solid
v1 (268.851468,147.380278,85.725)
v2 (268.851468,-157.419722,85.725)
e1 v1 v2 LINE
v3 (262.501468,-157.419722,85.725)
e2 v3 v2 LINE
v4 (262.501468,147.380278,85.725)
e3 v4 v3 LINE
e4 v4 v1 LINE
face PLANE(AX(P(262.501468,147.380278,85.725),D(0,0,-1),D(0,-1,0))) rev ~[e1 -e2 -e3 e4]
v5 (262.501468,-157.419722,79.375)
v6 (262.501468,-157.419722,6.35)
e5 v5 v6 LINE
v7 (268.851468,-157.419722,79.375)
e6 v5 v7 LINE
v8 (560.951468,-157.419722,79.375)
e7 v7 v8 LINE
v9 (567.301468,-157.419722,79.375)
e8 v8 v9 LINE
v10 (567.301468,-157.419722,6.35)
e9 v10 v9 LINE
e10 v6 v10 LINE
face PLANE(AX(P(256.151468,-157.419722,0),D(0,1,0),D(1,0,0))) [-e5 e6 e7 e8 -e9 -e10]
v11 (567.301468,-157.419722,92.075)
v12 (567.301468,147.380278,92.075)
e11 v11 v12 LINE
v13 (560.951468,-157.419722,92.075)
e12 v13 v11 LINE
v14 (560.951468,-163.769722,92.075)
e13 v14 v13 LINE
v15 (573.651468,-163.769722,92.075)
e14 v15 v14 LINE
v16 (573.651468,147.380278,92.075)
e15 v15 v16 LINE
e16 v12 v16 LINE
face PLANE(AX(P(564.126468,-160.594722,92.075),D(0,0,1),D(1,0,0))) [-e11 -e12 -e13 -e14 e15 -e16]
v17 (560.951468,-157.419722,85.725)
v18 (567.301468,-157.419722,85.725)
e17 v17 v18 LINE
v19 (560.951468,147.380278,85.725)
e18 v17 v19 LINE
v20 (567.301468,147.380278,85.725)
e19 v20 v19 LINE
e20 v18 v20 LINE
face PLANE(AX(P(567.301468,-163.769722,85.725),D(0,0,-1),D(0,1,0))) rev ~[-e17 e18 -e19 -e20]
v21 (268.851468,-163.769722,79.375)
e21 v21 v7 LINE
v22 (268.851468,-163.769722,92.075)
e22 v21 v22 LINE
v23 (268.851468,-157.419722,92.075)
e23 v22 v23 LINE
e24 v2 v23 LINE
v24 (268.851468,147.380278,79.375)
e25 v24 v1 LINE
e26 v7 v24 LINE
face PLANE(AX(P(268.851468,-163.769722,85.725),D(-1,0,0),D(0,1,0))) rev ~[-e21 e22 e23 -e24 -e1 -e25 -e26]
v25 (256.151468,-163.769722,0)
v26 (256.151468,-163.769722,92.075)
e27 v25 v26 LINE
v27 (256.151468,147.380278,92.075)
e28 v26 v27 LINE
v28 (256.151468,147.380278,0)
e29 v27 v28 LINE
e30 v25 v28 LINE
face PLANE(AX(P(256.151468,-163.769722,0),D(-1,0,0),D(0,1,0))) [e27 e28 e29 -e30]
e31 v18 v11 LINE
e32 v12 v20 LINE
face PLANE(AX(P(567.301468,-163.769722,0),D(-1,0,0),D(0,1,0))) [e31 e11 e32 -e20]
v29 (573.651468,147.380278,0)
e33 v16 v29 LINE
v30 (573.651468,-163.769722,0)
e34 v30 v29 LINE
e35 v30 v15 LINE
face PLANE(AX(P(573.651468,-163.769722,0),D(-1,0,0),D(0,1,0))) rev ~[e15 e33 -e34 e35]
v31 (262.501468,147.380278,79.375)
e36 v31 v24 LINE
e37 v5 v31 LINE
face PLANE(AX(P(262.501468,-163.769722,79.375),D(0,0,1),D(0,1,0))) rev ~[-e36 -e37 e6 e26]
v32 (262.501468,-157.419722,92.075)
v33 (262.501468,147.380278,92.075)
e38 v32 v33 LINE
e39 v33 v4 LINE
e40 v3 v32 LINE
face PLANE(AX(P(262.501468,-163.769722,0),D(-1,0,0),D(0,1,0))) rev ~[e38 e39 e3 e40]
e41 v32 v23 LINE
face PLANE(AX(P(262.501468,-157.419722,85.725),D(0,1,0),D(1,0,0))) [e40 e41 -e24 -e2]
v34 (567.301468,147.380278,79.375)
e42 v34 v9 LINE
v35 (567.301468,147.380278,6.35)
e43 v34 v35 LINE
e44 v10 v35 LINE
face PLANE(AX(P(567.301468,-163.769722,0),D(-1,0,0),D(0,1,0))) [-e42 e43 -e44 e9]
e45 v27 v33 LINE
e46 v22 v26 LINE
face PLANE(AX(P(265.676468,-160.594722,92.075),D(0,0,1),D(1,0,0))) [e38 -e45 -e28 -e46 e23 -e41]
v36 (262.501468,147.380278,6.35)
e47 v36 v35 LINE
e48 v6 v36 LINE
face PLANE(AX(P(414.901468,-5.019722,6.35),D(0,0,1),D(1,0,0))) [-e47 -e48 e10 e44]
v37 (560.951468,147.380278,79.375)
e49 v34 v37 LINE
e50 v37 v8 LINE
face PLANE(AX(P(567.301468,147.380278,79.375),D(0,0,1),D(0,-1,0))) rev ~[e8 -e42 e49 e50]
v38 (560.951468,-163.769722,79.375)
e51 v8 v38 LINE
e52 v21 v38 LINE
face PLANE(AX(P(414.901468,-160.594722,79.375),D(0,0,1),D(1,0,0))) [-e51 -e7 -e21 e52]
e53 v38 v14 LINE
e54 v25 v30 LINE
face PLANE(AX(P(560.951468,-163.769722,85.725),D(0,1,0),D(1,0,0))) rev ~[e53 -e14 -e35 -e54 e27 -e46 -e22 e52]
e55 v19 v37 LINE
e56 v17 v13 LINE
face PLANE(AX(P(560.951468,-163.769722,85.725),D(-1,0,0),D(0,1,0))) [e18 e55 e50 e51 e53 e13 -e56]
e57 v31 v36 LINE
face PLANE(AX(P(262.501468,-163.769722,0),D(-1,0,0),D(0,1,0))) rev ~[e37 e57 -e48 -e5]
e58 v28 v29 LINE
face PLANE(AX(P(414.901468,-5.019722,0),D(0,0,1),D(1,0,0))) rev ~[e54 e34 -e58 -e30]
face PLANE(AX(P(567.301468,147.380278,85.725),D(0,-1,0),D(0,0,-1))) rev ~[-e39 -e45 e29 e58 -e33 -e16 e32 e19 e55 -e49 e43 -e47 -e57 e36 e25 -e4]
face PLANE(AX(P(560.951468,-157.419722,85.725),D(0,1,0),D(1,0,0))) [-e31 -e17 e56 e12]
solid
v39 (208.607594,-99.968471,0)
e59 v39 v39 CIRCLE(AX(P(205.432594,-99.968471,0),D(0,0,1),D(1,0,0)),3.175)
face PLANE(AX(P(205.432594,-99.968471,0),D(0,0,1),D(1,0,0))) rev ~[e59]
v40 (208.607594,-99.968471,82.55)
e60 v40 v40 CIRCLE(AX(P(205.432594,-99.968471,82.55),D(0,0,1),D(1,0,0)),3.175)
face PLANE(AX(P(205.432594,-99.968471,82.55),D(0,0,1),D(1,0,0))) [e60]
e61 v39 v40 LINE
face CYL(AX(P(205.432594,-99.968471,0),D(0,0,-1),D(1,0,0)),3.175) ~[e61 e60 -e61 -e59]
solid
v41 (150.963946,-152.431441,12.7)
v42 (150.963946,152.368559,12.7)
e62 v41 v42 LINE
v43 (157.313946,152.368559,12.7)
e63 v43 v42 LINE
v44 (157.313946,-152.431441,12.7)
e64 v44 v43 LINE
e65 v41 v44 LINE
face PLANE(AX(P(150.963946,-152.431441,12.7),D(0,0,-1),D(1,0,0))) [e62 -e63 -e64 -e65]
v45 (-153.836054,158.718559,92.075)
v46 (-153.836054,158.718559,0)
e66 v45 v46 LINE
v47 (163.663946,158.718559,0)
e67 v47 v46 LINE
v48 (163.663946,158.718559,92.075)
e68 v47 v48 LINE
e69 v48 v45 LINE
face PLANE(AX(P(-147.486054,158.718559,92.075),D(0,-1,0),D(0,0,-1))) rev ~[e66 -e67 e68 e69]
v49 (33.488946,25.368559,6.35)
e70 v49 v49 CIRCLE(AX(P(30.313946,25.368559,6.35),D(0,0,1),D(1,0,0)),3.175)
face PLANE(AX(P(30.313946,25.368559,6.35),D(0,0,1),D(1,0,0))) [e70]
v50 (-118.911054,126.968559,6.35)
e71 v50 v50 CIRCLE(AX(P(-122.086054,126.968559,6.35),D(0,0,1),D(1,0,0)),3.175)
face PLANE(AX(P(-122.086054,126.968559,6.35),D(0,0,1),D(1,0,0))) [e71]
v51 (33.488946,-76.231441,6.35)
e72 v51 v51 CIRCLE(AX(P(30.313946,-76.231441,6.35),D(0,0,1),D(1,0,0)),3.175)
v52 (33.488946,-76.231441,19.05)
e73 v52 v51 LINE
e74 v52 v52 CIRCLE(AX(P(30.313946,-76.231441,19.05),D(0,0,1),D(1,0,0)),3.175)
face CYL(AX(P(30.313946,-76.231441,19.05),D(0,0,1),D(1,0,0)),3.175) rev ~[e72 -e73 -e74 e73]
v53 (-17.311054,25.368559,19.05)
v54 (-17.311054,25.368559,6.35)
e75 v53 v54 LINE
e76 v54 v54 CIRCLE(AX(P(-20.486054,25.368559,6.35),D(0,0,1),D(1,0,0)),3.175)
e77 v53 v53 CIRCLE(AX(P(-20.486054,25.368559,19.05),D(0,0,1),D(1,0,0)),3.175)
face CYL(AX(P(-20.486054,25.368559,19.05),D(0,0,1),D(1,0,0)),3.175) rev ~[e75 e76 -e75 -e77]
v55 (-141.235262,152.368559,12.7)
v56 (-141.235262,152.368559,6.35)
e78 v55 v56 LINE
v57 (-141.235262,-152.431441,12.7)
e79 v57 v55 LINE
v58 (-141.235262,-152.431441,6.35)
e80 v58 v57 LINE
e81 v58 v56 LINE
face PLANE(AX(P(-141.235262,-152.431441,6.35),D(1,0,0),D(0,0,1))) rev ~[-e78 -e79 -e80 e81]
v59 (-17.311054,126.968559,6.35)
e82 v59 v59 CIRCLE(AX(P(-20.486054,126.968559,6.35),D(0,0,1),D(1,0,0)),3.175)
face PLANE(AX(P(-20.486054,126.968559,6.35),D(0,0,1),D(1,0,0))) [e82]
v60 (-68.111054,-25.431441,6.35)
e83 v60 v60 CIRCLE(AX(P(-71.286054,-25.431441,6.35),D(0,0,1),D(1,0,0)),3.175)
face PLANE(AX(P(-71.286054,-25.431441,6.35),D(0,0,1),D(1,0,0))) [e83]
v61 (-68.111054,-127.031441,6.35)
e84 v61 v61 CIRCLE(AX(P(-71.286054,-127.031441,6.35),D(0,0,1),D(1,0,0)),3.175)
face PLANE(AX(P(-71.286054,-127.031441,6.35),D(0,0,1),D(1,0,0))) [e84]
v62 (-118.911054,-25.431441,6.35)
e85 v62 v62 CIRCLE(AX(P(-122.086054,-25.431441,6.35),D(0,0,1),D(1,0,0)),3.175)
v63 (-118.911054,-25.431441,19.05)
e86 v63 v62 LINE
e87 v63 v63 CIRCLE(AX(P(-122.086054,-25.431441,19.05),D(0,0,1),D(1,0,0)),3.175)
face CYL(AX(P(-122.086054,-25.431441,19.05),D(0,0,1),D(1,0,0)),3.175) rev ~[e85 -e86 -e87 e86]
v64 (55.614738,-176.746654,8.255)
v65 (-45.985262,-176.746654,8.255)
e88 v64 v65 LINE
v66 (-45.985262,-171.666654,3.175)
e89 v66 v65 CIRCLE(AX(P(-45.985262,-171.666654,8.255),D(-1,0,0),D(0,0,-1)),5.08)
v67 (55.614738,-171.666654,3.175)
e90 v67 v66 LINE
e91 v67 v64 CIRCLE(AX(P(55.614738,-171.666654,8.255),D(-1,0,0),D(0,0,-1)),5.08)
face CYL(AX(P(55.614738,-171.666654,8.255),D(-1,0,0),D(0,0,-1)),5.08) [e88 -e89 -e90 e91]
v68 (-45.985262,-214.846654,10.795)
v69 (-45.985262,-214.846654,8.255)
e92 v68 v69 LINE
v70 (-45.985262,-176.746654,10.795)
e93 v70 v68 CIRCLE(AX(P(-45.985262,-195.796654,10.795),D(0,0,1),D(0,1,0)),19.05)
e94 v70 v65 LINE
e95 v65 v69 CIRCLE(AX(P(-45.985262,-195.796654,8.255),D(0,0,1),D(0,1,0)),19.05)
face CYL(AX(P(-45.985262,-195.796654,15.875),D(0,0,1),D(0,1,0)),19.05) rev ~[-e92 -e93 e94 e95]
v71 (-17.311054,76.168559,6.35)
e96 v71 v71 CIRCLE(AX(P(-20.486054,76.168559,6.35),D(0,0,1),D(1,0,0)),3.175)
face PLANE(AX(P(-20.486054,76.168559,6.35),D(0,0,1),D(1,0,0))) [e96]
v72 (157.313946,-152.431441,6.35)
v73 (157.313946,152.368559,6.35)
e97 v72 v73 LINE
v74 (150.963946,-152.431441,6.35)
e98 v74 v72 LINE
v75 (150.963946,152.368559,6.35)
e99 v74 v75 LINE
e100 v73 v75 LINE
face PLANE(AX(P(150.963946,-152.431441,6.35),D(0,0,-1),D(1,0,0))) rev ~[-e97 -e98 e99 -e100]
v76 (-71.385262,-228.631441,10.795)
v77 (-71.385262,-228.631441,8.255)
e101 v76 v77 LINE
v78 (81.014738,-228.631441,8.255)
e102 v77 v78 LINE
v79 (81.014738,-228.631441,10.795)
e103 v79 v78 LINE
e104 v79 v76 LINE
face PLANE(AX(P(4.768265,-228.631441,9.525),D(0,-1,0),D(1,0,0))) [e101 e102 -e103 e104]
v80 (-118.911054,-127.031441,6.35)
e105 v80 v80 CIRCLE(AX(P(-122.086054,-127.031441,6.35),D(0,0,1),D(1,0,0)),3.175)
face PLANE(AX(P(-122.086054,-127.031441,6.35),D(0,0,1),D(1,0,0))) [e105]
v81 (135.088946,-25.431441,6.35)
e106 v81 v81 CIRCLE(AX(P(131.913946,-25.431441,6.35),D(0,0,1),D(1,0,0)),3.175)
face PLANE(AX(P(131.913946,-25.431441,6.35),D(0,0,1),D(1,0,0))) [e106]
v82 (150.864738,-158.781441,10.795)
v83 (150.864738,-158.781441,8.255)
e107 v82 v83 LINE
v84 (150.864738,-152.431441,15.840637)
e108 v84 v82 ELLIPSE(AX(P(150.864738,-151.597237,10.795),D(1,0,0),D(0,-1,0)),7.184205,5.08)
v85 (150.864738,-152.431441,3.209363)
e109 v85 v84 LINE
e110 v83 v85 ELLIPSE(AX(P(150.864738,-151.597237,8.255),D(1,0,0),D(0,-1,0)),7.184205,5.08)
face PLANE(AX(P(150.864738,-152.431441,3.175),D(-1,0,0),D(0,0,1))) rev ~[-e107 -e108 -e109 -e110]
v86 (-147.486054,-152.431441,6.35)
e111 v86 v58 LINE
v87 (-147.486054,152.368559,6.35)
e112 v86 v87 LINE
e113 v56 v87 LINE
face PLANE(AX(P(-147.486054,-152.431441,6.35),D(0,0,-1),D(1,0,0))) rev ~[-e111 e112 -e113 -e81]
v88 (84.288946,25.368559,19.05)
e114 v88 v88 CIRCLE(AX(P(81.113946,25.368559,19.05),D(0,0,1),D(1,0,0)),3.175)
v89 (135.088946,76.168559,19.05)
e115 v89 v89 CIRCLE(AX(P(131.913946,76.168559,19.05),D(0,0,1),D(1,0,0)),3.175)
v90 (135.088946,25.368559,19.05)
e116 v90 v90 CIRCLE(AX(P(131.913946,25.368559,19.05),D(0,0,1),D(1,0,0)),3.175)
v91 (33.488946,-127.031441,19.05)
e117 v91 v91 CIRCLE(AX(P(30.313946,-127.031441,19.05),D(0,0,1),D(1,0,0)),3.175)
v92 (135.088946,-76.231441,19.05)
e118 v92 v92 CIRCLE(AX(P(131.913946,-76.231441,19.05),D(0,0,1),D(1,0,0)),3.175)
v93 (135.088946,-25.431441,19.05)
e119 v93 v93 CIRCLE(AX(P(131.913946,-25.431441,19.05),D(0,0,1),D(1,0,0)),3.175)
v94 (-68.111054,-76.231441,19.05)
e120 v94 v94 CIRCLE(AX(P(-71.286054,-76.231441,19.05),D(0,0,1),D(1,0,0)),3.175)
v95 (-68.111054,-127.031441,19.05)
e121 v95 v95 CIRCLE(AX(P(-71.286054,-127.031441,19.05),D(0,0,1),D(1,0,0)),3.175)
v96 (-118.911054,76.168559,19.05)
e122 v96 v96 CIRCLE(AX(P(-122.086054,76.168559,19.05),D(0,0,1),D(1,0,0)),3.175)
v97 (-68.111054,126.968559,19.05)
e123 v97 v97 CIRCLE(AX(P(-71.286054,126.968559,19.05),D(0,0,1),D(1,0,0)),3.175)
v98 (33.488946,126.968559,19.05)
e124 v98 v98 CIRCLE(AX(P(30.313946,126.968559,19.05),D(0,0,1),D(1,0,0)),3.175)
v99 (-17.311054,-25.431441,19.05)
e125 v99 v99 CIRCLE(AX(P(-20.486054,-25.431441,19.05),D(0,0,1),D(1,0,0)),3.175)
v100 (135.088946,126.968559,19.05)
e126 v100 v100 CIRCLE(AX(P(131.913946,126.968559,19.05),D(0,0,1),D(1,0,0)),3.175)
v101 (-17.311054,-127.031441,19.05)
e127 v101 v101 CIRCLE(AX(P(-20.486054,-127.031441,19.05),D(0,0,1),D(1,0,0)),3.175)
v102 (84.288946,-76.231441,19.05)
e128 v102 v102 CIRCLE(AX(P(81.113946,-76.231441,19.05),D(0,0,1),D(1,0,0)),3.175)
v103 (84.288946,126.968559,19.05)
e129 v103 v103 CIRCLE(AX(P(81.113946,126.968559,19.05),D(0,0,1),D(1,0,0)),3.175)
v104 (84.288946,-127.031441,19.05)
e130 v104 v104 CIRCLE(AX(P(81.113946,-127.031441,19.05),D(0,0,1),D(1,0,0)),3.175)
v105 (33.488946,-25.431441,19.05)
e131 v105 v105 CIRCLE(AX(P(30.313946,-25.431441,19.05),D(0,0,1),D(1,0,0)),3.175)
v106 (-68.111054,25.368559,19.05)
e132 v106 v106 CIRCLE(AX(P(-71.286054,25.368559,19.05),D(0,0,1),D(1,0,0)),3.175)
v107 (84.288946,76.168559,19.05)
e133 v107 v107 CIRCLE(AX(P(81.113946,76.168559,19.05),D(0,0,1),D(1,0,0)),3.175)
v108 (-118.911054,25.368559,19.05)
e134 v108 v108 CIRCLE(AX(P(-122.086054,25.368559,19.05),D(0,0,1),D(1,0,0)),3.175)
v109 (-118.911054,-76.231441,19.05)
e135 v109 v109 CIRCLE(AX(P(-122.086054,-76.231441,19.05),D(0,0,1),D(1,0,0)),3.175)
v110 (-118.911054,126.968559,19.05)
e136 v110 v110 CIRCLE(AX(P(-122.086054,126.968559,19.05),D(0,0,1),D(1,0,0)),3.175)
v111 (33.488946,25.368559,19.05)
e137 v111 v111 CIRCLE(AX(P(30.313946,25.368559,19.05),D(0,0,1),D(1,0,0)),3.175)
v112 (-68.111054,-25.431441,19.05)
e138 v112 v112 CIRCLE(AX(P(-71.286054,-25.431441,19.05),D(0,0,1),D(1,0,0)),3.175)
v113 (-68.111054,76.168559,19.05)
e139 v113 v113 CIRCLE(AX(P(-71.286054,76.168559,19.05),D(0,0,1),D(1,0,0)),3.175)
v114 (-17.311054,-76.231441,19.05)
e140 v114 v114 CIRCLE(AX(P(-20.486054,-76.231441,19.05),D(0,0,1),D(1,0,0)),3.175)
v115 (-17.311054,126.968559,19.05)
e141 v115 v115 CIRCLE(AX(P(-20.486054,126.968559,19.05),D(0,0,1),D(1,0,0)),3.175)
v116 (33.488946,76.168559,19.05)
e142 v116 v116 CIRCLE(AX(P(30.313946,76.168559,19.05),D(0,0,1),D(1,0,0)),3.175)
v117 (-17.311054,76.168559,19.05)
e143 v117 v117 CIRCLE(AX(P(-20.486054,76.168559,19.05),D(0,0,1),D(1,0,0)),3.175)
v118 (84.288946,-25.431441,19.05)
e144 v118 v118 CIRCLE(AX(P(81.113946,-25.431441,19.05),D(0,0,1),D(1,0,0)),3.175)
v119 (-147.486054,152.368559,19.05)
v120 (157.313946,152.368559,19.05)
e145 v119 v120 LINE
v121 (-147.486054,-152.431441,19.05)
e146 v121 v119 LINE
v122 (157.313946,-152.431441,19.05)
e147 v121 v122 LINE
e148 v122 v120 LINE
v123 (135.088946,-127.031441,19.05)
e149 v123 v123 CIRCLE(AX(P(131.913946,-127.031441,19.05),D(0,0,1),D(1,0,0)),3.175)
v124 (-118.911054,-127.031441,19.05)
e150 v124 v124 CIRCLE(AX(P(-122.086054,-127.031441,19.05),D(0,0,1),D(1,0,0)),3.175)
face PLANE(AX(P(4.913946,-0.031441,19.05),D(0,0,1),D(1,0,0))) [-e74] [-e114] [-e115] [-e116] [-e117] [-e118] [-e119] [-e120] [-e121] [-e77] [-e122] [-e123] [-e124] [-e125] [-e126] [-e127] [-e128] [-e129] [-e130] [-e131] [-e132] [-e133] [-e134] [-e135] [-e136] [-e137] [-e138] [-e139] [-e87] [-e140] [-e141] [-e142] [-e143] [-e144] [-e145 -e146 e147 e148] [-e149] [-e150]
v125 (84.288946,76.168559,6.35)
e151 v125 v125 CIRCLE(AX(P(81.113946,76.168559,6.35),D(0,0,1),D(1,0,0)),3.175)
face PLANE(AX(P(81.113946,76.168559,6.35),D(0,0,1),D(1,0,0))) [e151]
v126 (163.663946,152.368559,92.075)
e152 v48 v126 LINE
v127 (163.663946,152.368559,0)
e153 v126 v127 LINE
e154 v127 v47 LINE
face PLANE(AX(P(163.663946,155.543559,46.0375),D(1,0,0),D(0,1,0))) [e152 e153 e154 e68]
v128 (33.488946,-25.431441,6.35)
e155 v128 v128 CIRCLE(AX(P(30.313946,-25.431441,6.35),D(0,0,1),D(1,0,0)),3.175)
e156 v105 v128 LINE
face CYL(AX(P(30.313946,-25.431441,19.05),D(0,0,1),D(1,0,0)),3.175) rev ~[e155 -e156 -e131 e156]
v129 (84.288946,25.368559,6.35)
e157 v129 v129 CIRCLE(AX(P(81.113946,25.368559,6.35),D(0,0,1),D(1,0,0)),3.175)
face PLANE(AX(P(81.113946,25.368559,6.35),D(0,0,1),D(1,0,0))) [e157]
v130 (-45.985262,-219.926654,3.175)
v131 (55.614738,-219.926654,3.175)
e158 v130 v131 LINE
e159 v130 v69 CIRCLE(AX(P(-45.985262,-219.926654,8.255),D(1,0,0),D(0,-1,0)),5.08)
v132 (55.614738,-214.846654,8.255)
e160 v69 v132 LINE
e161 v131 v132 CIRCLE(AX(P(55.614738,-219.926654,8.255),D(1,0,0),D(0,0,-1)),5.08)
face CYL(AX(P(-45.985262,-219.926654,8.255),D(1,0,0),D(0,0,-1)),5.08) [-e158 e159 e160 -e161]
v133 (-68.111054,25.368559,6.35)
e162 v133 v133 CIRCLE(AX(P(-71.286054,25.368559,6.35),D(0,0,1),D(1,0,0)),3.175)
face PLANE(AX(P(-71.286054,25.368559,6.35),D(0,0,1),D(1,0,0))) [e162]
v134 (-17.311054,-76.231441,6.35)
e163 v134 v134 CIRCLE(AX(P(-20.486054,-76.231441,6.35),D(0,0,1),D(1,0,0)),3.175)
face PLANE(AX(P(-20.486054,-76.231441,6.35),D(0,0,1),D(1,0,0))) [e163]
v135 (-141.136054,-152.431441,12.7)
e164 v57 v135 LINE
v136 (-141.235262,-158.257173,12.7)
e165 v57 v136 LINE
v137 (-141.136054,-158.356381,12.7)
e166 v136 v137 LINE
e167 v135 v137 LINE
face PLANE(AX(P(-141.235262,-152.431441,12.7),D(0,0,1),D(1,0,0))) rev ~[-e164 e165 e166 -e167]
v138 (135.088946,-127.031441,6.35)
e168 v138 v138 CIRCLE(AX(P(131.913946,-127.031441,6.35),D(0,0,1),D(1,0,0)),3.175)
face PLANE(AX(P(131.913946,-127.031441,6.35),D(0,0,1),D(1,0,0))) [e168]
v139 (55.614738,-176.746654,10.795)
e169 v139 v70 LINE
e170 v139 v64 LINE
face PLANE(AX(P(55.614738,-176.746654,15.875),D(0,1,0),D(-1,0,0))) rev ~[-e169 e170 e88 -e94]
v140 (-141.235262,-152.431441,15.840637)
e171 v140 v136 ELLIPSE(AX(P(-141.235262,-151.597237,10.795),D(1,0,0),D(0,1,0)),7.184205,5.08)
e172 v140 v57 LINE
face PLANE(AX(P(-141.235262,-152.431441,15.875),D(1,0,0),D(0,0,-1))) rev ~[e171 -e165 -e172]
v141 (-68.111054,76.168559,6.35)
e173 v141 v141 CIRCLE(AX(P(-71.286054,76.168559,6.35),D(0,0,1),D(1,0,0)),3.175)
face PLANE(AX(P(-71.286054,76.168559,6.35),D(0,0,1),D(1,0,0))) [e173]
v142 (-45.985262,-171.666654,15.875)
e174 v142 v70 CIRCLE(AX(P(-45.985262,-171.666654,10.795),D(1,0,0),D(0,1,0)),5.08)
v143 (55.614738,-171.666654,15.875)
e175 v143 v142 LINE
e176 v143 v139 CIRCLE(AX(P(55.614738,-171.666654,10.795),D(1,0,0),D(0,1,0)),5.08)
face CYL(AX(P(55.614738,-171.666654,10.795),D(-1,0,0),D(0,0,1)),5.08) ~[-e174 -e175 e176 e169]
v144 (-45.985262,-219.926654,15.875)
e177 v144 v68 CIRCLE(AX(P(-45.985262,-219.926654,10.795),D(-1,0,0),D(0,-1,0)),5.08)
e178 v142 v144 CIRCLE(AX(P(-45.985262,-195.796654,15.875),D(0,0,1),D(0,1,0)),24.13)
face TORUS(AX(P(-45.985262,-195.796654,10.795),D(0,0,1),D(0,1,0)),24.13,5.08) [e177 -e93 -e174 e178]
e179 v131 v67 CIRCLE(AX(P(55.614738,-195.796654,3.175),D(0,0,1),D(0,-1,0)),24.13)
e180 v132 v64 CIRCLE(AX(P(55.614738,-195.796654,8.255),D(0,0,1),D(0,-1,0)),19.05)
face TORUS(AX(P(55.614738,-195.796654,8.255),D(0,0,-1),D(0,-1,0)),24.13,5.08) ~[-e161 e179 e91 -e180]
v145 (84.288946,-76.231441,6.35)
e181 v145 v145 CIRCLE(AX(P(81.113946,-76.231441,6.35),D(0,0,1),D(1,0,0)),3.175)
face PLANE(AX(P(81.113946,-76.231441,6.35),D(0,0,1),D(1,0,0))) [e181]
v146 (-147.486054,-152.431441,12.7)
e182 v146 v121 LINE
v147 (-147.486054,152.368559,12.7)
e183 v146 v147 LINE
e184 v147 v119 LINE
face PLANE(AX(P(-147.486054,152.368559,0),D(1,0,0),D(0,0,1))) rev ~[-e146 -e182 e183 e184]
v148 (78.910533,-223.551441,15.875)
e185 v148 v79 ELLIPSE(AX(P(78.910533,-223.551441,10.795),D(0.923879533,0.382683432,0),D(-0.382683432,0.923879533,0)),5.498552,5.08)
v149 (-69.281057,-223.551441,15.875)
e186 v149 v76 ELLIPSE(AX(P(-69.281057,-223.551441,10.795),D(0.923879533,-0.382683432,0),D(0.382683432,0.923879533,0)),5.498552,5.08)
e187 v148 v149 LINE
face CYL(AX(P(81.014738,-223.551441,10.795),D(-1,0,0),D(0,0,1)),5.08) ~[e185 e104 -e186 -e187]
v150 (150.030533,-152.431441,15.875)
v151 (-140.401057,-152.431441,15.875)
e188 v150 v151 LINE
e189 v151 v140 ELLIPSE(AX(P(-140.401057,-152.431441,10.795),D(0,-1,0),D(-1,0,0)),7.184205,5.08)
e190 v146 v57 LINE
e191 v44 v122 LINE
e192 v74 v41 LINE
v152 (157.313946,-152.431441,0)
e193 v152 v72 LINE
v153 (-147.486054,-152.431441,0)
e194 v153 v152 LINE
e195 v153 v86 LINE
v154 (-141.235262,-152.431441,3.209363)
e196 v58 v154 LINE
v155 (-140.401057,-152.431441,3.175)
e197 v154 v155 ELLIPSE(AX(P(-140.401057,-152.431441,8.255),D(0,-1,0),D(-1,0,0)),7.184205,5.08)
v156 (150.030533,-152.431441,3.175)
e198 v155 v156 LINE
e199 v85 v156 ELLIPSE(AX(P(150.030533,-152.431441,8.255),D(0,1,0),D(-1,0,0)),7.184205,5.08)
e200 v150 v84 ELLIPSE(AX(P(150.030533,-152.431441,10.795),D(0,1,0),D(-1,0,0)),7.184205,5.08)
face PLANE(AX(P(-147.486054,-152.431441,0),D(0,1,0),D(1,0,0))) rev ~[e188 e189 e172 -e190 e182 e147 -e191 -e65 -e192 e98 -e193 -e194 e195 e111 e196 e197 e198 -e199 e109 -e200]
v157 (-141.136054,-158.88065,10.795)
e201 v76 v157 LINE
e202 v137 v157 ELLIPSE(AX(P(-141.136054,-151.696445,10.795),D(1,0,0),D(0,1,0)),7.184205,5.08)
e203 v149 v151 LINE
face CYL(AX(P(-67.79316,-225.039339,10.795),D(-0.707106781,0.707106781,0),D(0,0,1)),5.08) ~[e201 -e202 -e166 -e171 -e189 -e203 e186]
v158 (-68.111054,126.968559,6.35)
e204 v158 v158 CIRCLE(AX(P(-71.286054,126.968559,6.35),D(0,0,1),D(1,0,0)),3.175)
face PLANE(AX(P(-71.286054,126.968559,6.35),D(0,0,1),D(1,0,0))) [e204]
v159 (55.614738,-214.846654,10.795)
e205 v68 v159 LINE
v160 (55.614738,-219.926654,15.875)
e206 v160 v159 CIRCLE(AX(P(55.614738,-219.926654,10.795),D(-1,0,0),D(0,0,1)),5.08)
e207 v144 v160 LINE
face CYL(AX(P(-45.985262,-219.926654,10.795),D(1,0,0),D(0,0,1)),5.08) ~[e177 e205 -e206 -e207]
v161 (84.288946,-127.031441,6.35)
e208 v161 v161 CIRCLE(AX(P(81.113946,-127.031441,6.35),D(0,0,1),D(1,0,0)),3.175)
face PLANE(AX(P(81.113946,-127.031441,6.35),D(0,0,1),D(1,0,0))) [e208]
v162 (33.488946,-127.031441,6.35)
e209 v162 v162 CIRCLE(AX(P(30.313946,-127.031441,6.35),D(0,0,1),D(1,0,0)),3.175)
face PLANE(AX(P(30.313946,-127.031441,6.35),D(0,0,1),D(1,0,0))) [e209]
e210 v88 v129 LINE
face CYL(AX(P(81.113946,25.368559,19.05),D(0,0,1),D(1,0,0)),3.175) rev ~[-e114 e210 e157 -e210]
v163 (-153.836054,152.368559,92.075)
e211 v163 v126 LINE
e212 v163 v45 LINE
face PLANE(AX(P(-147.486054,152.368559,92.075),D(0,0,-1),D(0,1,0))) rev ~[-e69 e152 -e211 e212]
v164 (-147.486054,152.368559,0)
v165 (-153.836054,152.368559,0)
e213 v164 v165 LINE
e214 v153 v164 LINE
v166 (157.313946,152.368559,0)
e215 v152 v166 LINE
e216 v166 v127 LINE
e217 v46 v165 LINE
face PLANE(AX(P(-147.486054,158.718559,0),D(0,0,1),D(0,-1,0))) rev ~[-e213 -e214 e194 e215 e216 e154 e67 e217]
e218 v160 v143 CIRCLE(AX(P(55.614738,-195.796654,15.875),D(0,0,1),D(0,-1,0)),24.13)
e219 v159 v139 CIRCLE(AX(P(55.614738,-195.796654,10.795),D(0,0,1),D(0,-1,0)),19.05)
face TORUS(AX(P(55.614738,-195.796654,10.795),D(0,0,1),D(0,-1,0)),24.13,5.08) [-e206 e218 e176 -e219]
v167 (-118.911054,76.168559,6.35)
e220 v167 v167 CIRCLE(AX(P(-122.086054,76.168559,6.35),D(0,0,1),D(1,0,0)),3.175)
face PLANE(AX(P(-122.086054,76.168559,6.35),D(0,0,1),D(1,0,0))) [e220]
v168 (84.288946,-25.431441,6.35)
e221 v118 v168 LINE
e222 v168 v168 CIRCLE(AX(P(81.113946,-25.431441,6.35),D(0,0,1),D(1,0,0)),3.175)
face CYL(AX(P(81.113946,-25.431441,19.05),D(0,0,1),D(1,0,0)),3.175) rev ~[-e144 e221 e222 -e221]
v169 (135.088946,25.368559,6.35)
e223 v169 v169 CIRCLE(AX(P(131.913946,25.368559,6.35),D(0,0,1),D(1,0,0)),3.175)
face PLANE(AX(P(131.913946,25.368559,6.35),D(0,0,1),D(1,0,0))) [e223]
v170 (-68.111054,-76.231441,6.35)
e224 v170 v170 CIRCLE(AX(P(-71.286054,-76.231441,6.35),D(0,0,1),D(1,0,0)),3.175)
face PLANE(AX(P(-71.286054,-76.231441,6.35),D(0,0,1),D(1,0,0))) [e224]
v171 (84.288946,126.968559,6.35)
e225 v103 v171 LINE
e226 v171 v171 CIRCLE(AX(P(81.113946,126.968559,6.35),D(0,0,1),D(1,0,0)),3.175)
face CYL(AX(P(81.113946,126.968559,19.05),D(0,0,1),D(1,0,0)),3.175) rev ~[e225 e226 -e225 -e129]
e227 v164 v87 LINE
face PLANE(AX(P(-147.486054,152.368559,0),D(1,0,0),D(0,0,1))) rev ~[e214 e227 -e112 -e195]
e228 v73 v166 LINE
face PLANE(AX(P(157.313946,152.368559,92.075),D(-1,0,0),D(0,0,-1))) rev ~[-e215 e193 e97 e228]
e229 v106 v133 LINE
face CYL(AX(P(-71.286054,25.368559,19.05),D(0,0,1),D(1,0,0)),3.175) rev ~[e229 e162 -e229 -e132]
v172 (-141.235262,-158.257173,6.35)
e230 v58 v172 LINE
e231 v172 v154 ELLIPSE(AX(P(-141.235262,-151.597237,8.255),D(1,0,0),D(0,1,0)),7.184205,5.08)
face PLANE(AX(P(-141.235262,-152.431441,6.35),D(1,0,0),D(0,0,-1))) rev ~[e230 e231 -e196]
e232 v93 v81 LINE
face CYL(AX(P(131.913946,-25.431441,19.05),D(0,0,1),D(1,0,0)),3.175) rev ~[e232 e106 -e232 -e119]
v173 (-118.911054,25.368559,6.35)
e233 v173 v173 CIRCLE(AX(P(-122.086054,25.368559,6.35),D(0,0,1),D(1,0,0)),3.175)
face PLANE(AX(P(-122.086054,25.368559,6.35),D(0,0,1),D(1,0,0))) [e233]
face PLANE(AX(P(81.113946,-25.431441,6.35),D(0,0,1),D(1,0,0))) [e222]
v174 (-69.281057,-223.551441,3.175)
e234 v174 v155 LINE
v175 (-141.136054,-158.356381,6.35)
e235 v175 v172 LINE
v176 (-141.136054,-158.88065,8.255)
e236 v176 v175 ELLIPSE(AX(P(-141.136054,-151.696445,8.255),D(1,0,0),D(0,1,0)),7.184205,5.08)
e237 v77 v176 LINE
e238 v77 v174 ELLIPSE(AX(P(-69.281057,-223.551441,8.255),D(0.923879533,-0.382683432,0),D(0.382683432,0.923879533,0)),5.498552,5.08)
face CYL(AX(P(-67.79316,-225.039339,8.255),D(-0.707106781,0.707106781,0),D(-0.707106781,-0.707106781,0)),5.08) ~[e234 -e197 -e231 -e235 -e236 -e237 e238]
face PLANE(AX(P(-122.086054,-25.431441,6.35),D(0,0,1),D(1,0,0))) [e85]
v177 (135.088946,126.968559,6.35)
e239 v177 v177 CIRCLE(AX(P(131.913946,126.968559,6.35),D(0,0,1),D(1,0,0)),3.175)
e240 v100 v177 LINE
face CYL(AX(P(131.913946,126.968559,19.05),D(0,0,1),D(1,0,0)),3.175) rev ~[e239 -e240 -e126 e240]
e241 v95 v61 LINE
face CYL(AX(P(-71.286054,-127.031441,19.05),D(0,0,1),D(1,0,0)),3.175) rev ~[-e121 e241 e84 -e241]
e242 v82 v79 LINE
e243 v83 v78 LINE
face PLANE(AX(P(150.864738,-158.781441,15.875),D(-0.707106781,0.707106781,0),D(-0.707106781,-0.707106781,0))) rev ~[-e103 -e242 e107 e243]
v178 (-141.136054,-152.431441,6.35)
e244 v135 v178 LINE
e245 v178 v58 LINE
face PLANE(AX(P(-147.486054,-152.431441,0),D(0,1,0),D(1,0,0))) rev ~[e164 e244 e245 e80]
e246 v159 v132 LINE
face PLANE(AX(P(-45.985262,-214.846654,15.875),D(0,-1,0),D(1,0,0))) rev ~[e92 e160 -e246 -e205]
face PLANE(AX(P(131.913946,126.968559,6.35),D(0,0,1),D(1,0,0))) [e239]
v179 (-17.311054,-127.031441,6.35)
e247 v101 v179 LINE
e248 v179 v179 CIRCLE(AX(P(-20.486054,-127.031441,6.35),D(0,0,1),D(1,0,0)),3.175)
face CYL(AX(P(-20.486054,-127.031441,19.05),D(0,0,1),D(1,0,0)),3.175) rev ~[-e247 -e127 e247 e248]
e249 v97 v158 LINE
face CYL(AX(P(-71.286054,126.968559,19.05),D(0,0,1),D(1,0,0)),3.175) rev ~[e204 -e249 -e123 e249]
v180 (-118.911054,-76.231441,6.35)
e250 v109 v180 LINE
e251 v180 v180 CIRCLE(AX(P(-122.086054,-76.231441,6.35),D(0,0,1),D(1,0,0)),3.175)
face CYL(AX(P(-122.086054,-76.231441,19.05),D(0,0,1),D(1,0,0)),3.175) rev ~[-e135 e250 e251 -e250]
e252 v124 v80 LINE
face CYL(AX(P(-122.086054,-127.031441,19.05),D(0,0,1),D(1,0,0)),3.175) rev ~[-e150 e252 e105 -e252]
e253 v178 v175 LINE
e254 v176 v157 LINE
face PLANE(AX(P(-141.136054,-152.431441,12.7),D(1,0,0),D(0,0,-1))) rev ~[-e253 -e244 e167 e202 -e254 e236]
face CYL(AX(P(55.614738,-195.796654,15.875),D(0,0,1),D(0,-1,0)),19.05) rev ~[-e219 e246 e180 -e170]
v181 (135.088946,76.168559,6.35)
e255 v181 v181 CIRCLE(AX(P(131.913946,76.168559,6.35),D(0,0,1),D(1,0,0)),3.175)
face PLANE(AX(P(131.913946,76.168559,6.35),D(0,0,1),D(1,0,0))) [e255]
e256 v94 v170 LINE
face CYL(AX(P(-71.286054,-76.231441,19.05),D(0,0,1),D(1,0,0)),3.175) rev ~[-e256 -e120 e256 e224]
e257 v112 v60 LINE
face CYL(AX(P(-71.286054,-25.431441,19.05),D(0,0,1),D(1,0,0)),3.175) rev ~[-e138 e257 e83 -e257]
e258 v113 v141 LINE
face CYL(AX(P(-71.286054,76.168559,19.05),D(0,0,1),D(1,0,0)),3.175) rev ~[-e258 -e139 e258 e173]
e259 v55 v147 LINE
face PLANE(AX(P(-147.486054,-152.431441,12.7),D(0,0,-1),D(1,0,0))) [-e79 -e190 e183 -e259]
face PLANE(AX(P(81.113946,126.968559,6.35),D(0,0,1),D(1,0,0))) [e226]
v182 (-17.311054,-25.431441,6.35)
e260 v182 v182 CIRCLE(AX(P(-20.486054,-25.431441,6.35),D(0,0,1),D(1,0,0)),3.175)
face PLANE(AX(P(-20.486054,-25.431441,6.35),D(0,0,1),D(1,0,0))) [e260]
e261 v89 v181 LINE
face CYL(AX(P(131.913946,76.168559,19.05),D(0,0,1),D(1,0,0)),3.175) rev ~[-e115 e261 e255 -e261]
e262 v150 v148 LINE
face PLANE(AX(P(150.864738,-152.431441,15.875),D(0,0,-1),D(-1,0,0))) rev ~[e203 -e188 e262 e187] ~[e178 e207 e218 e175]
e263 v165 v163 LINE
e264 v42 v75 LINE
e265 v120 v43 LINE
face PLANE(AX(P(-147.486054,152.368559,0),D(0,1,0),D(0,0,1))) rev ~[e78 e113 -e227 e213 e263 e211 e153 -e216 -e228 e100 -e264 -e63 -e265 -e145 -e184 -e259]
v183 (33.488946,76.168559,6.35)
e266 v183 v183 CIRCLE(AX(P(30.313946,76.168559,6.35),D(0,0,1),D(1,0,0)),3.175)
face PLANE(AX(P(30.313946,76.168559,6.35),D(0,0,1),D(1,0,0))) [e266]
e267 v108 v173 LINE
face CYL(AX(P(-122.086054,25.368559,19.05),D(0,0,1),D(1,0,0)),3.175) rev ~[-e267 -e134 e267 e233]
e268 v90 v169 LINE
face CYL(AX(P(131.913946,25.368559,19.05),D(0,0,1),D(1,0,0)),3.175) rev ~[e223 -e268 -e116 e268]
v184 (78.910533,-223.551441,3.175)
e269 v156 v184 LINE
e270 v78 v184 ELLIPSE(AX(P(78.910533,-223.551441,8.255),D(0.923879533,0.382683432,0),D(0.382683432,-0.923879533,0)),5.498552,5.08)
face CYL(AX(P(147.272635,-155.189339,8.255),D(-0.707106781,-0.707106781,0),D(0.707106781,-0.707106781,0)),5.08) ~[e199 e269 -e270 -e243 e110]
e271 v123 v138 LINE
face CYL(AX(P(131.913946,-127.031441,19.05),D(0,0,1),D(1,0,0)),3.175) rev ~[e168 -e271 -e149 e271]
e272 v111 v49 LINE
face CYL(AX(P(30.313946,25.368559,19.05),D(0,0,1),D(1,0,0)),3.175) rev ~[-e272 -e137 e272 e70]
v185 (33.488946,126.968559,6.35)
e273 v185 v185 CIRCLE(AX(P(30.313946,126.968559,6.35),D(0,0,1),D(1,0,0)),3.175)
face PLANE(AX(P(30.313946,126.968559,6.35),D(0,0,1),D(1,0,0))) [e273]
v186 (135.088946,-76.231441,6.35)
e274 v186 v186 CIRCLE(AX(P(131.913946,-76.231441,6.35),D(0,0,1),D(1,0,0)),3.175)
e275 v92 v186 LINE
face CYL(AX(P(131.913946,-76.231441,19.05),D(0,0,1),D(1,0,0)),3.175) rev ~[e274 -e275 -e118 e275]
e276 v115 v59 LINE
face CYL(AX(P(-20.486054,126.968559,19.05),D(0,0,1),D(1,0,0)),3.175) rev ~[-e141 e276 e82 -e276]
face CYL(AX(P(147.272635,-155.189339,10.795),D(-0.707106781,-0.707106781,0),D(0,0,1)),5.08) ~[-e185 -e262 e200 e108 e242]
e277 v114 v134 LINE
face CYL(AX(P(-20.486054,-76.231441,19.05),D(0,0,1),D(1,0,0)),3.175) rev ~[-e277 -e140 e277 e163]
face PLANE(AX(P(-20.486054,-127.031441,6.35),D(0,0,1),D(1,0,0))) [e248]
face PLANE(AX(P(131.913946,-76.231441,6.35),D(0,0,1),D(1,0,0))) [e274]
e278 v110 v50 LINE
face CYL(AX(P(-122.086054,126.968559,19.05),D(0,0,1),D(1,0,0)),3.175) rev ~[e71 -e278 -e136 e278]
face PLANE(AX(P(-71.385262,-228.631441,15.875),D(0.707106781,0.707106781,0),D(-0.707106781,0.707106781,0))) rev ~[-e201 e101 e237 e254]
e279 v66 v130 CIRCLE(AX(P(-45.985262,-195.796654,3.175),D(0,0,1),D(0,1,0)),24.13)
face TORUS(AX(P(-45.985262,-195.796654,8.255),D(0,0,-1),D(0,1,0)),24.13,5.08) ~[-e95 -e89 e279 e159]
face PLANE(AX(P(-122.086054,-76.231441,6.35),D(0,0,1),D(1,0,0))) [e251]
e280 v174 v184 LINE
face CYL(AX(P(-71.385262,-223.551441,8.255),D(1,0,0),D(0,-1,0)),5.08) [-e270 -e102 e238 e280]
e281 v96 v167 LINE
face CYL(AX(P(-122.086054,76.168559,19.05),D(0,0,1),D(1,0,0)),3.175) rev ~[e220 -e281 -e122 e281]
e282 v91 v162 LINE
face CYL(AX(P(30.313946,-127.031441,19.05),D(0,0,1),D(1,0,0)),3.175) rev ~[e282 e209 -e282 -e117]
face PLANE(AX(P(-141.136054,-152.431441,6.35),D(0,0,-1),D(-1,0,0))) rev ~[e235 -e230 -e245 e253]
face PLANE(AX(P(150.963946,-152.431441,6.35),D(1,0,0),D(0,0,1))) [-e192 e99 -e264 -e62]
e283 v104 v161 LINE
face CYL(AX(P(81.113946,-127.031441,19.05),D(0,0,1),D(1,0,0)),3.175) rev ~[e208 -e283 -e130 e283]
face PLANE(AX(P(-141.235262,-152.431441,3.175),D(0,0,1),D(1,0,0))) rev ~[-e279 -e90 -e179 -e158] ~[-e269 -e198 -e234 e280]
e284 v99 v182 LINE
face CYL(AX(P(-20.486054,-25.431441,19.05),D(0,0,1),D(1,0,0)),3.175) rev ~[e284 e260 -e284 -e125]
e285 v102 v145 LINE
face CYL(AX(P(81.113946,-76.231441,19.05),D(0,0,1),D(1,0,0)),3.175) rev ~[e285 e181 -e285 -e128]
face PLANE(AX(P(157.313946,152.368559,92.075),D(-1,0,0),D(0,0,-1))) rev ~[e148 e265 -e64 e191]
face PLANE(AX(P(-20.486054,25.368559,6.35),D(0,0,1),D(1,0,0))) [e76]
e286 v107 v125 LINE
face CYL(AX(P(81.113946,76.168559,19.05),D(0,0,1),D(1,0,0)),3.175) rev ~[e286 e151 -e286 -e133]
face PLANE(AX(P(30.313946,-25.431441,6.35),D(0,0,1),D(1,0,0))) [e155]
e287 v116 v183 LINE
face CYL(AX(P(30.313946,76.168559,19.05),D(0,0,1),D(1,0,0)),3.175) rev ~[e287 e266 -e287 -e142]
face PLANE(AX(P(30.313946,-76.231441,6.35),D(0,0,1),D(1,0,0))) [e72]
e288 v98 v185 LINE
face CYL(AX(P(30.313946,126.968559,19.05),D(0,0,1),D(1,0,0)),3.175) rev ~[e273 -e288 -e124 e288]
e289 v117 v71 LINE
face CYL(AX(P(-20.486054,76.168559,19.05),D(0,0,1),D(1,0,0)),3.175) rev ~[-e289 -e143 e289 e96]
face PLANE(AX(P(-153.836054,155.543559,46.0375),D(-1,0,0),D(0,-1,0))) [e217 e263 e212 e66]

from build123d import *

# Parameters (mm, degrees)
F0_W      = 304.8
F0_H      = 304.8
F1_DEPTH  = 19.05
F2_W      = 6.35
F2_H      = 6.35
F2_W_2    = 6.250791869
F3_DEPTH  = 304.801
F4_DEPTH  = 76.2
F6_DEPTH  = 25.4
F7_R      = 5.08
F8_R      = 5.08
F9_R      = 3.175
F10_DEPTH = 12.7
F11_R     = 3.175
F12_DEPTH = 82.55
F13_W     = 304.8
F13_H     = 73.025
F13_W_2   = 6.35
F13_H_2   = 6.35
F13_W_3   = 6.250791869
F14_DEPTH = 6.35
F16_DEPTH = 6.35
F18_DEPTH = 6.35
F19_W     = 317.5
F19_H     = 317.5
F20_DEPTH = 92.075
F21_T     = -6.35
F23_DEPTH = 92.076
F22_W     = 304.8
F22_H     = 6.35
F24_DEPTH = 12.7
F26_DEPTH = 6.35
F28_DEPTH = 6.35
F29_W     = 6.35
F29_H     = 6.35
F30_DEPTH = 6.35
F31_W     = 6.35
F31_H     = 6.35
F32_DEPTH = 6.35


with BuildPart() as f1:
    # F0 (on Top) → F1 (new body)
    with BuildSketch(Plane.XY):
        with Locations((4.9139459755, -0.0314414501)):
            Rectangle(F0_W, F0_H)
    extrude(amount=F1_DEPTH)

    # F2 (on face) → F3 (cut, through all)
    with BuildSketch(Plane.XZ.offset(152.4314414501)):
        with Locations((154.1389459755, 9.525)):
            Rectangle(F2_W, F2_H)
        with Locations((-144.36065809, 9.525)):
            Rectangle(F2_W_2, F2_H)
    extrude(amount=-F3_DEPTH, mode=Mode.SUBTRACT)

    # F2 (on face) → F4 (join)
    with BuildSketch(Plane.XZ.offset(152.4314414501)):
        Polygon((-141.2352621555, 15.875), (-141.2352621555, 12.7), (-141.1360540245, 12.7), (-141.1360540245, 6.35), (-141.2352621555, 6.35), (-141.2352621555, 3.175), (150.8647378445, 3.175), (150.8647378445, 15.875), align=None)
    extrude(amount=F4_DEPTH)

    # F5 (on face) → F6 (cut)
    with BuildSketch(Plane.XY.offset(15.875)):
        with BuildLine():
            ThreePointArc((-45.9852621555, -176.7466536283), (-65.0352621555, -195.7966536283), (-45.9852621555, -214.8466536283))
            Line((-45.9852621555, -214.8466536283), (55.6147378445, -214.8466536283))
            ThreePointArc((55.6147378445, -214.8466536283), (74.6647378445, -195.7966536283), (55.6147378445, -176.7466536283))
            Line((55.6147378445, -176.7466536283), (-45.9852621555, -176.7466536283))
        make_face()
        Polygon((150.8647378445, -158.7814414501), (81.0147378445, -228.6314414501), (150.8647378445, -228.6314414501), align=None)
        Polygon((-71.3852621555, -228.6314414501), (-141.2352621555, -158.7814414501), (-141.2352621555, -228.6314414501), align=None)
    extrude(amount=-F6_DEPTH, mode=Mode.SUBTRACT)

    # F7
    f7_edges = [f1.edges().sort_by_distance(p)[0] for p in [
        (-65.035262, -195.796654, 15.875),
        (4.814738, -176.746654, 15.875),
        (4.814738, -176.746654, 3.175),
        (-65.035262, -195.796654, 3.175),
        (74.664738, -195.796654, 3.175),
    ]]
    fillet(f7_edges, radius=F7_R)

    # F8
    f8_edges = [f1.edges().sort_by_distance(p)[0] for p in [
        (-106.310262, -193.706441, 15.875),
        (-106.310262, -193.706441, 3.175),
        (4.814738, -228.631441, 15.875),
        (4.814738, -228.631441, 3.175),
        (115.939738, -193.706441, 3.175),
        (115.939738, -193.706441, 15.875),
    ]]
    fillet(f8_edges, radius=F8_R)

    # F9 (on face) → F10 (cut)
    with BuildSketch(Plane.XY.offset(19.05)):
        with Locations((131.9139459755, 76.1685585499)):
            Circle(F9_R)
        with Locations((30.3139459755, -127.0314414501)):
            Circle(F9_R)
        with Locations((131.9139459755, -76.2314414501)):
            Circle(F9_R)
        with Locations((81.1139459755, -76.2314414501)):
            Circle(F9_R)
        with Locations((131.9139459755, 126.9685585499)):
            Circle(F9_R)
        with Locations((30.3139459755, -76.2314414501)):
            Circle(F9_R)
        with Locations((-20.4860540245, 25.3685585499)):
            Circle(F9_R)
        with Locations((-20.4860540245, -76.2314414501)):
            Circle(F9_R)
        with Locations((-20.4860540245, -25.4314414501)):
            Circle(F9_R)
        with Locations((-122.0860540245, -127.0314414501)):
            Circle(F9_R)
        with Locations((-122.0860540245, -76.2314414501)):
            Circle(F9_R)
        with Locations((-122.0860540245, -25.4314414501)):
            Circle(F9_R)
        with Locations((-122.0860540245, 25.3685585499)):
            Circle(F9_R)
        with Locations((-122.0860540245, 76.1685585499)):
            Circle(F9_R)
        with Locations((-122.0860540245, 126.9685585499)):
            Circle(F9_R)
        with Locations((30.3139459755, 76.1685585499)):
            Circle(F9_R)
        with Locations((-71.2860540245, -127.0314414501)):
            Circle(F9_R)
        with Locations((-71.2860540245, -76.2314414501)):
            Circle(F9_R)
        with Locations((-71.2860540245, -25.4314414501)):
            Circle(F9_R)
        with Locations((-71.2860540245, 25.3685585499)):
            Circle(F9_R)
        with Locations((-71.2860540245, 76.1685585499)):
            Circle(F9_R)
        with Locations((-71.2860540245, 126.9685585499)):
            Circle(F9_R)
        with Locations((-20.4860540245, -127.0314414501)):
            Circle(F9_R)
        with Locations((81.1139459755, -25.4314414501)):
            Circle(F9_R)
        with Locations((81.1139459755, 126.9685585499)):
            Circle(F9_R)
        with Locations((30.3139459755, -25.4314414501)):
            Circle(F9_R)
        with Locations((30.3139459755, 126.9685585499)):
            Circle(F9_R)
        with Locations((131.9139459755, -25.4314414501)):
            Circle(F9_R)
        with Locations((-20.4860540245, 76.1685585499)):
            Circle(F9_R)
        with Locations((81.1139459755, 25.3685585499)):
            Circle(F9_R)
        with Locations((131.9139459755, -127.0314414501)):
            Circle(F9_R)
        with Locations((30.3139459755, 25.3685585499)):
            Circle(F9_R)
        with Locations((81.1139459755, -127.0314414501)):
            Circle(F9_R)
        with Locations((131.9139459755, 25.3685585499)):
            Circle(F9_R)
        with Locations((-20.4860540245, 126.9685585499)):
            Circle(F9_R)
        with Locations((81.1139459755, 76.1685585499)):
            Circle(F9_R)
    extrude(amount=-F10_DEPTH, mode=Mode.SUBTRACT)

    # F13 (on face) → F14 (join)
    with BuildSketch(Plane(origin=(0, 152.3685585499, 0), x_dir=(-1, 0, 0), z_dir=(0, 1, 0))):
        with Locations((-4.9139459755, 55.5625)):
            Rectangle(F13_W, F13_H)
        Polygon((-157.3139459755, 6.35), (-157.3139459755, 0), (147.4860540245, 0), (147.4860540245, 6.35), (141.2352621555, 6.35), (141.2352621555, 12.7), (147.4860540245, 12.7), (147.4860540245, 19.05), (-157.3139459755, 19.05), (-157.3139459755, 12.7), (-150.9639459755, 12.7), (-150.9639459755, 6.35), align=None)
        with Locations((-154.1389459755, 9.525)):
            Rectangle(F13_W_2, F13_H_2)
        with Locations((144.36065809, 9.525)):
            Rectangle(F13_W_3, F13_H_2)
    extrude(amount=F14_DEPTH)

    # F15 (on face) → F16 (join)
    with BuildSketch(Plane.YZ.offset(157.3139459755)):
        Polygon((152.3685585499, 92.075), (152.3685585499, 19.05), (152.3685585499, 12.7), (152.3685585499, 6.35), (152.3685585499, 0), (158.7185585499, 0), (158.7185585499, 92.075), align=None)
    extrude(amount=F16_DEPTH)

    # F17 (on face) → F18 (join)
    with BuildSketch(Plane(origin=(-147.4860540245, 0, 0), x_dir=(0, -1, 0), z_dir=(-1, 0, 0))):
        Polygon((-152.3685585499, 12.7), (-152.3685585499, 19.05), (-152.3685585499, 92.075), (-158.7185585499, 92.075), (-158.7185585499, 0), (-152.3685585499, 0), (-152.3685585499, 6.35), align=None)
    extrude(amount=F18_DEPTH)


with BuildPart() as f12:
    # F11 (on Top) → F12 (new body)
    with BuildSketch(Plane.XY):
        with Locations((205.4325938225, -99.968470633)):
            Circle(F11_R)
    extrude(amount=F12_DEPTH)


with BuildPart() as f20:
    # F19 (on Top) → F20 (new body)
    with BuildSketch(Plane.XY):
        with Locations((414.9014675617, -5.0197219849)):
            Rectangle(F19_W, F19_H)
    extrude(amount=F20_DEPTH)

    # F21
    f21_openings = [f20.faces().sort_by_distance(p)[0] for p in [
        (414.901468, -5.019722, 92.075),
    ]]
    offset(amount=F21_T, openings=f21_openings)

    # F22 (on face) → F23 (cut, through all)
    with BuildSketch(Plane.XY.offset(92.075)):
        Polygon((256.1514675617, 147.3802780151), (262.5014675617, 147.3802780151), (567.3014675617, 147.3802780151), (573.6514675617, 147.3802780151), (573.6514675617, 153.7302780151), (256.1514675617, 153.7302780151), align=None)
    extrude(amount=-F23_DEPTH, mode=Mode.SUBTRACT)

    # F22 (on face) → F24 (cut)
    with BuildSketch(Plane.XY.offset(92.075)):
        with Locations((414.9014675617, -160.5947219849)):
            Rectangle(F22_W, F22_H)
    extrude(amount=-F24_DEPTH, mode=Mode.SUBTRACT)

    # F25 (on face) → F26 (join)
    with BuildSketch(Plane.YZ.offset(262.5014675617)):
        Polygon((147.3802780151, 85.725), (-163.7697219849, 85.725), (-163.7697219849, 79.375), (-157.4197219849, 79.375), (147.3802780151, 79.375), align=None)
    extrude(amount=F26_DEPTH)

    # F27 (on face) → F28 (join)
    with BuildSketch(Plane(origin=(567.3014675617, 0, 0), x_dir=(0, -1, 0), z_dir=(-1, 0, 0))):
        Polygon((163.7697219849, 85.725), (-147.3802780151, 85.725), (-147.3802780151, 79.375), (157.4197219849, 79.375), (163.7697219849, 79.375), align=None)
    extrude(amount=F28_DEPTH)

    # F29 (on face) → F30 (join)
    with BuildSketch(Plane.XY.offset(85.725)):
        with Locations((265.6764675617, -160.5947219849)):
            Rectangle(F29_W, F29_H)
    extrude(amount=F30_DEPTH)

    # F31 (on face) → F32 (join)
    with BuildSketch(Plane.XY.offset(85.725)):
        with Locations((564.1264675617, -160.5947219849)):
            Rectangle(F31_W, F31_H)
    extrude(amount=F32_DEPTH)


solid = Compound([f1.part, f12.part, f20.part])
